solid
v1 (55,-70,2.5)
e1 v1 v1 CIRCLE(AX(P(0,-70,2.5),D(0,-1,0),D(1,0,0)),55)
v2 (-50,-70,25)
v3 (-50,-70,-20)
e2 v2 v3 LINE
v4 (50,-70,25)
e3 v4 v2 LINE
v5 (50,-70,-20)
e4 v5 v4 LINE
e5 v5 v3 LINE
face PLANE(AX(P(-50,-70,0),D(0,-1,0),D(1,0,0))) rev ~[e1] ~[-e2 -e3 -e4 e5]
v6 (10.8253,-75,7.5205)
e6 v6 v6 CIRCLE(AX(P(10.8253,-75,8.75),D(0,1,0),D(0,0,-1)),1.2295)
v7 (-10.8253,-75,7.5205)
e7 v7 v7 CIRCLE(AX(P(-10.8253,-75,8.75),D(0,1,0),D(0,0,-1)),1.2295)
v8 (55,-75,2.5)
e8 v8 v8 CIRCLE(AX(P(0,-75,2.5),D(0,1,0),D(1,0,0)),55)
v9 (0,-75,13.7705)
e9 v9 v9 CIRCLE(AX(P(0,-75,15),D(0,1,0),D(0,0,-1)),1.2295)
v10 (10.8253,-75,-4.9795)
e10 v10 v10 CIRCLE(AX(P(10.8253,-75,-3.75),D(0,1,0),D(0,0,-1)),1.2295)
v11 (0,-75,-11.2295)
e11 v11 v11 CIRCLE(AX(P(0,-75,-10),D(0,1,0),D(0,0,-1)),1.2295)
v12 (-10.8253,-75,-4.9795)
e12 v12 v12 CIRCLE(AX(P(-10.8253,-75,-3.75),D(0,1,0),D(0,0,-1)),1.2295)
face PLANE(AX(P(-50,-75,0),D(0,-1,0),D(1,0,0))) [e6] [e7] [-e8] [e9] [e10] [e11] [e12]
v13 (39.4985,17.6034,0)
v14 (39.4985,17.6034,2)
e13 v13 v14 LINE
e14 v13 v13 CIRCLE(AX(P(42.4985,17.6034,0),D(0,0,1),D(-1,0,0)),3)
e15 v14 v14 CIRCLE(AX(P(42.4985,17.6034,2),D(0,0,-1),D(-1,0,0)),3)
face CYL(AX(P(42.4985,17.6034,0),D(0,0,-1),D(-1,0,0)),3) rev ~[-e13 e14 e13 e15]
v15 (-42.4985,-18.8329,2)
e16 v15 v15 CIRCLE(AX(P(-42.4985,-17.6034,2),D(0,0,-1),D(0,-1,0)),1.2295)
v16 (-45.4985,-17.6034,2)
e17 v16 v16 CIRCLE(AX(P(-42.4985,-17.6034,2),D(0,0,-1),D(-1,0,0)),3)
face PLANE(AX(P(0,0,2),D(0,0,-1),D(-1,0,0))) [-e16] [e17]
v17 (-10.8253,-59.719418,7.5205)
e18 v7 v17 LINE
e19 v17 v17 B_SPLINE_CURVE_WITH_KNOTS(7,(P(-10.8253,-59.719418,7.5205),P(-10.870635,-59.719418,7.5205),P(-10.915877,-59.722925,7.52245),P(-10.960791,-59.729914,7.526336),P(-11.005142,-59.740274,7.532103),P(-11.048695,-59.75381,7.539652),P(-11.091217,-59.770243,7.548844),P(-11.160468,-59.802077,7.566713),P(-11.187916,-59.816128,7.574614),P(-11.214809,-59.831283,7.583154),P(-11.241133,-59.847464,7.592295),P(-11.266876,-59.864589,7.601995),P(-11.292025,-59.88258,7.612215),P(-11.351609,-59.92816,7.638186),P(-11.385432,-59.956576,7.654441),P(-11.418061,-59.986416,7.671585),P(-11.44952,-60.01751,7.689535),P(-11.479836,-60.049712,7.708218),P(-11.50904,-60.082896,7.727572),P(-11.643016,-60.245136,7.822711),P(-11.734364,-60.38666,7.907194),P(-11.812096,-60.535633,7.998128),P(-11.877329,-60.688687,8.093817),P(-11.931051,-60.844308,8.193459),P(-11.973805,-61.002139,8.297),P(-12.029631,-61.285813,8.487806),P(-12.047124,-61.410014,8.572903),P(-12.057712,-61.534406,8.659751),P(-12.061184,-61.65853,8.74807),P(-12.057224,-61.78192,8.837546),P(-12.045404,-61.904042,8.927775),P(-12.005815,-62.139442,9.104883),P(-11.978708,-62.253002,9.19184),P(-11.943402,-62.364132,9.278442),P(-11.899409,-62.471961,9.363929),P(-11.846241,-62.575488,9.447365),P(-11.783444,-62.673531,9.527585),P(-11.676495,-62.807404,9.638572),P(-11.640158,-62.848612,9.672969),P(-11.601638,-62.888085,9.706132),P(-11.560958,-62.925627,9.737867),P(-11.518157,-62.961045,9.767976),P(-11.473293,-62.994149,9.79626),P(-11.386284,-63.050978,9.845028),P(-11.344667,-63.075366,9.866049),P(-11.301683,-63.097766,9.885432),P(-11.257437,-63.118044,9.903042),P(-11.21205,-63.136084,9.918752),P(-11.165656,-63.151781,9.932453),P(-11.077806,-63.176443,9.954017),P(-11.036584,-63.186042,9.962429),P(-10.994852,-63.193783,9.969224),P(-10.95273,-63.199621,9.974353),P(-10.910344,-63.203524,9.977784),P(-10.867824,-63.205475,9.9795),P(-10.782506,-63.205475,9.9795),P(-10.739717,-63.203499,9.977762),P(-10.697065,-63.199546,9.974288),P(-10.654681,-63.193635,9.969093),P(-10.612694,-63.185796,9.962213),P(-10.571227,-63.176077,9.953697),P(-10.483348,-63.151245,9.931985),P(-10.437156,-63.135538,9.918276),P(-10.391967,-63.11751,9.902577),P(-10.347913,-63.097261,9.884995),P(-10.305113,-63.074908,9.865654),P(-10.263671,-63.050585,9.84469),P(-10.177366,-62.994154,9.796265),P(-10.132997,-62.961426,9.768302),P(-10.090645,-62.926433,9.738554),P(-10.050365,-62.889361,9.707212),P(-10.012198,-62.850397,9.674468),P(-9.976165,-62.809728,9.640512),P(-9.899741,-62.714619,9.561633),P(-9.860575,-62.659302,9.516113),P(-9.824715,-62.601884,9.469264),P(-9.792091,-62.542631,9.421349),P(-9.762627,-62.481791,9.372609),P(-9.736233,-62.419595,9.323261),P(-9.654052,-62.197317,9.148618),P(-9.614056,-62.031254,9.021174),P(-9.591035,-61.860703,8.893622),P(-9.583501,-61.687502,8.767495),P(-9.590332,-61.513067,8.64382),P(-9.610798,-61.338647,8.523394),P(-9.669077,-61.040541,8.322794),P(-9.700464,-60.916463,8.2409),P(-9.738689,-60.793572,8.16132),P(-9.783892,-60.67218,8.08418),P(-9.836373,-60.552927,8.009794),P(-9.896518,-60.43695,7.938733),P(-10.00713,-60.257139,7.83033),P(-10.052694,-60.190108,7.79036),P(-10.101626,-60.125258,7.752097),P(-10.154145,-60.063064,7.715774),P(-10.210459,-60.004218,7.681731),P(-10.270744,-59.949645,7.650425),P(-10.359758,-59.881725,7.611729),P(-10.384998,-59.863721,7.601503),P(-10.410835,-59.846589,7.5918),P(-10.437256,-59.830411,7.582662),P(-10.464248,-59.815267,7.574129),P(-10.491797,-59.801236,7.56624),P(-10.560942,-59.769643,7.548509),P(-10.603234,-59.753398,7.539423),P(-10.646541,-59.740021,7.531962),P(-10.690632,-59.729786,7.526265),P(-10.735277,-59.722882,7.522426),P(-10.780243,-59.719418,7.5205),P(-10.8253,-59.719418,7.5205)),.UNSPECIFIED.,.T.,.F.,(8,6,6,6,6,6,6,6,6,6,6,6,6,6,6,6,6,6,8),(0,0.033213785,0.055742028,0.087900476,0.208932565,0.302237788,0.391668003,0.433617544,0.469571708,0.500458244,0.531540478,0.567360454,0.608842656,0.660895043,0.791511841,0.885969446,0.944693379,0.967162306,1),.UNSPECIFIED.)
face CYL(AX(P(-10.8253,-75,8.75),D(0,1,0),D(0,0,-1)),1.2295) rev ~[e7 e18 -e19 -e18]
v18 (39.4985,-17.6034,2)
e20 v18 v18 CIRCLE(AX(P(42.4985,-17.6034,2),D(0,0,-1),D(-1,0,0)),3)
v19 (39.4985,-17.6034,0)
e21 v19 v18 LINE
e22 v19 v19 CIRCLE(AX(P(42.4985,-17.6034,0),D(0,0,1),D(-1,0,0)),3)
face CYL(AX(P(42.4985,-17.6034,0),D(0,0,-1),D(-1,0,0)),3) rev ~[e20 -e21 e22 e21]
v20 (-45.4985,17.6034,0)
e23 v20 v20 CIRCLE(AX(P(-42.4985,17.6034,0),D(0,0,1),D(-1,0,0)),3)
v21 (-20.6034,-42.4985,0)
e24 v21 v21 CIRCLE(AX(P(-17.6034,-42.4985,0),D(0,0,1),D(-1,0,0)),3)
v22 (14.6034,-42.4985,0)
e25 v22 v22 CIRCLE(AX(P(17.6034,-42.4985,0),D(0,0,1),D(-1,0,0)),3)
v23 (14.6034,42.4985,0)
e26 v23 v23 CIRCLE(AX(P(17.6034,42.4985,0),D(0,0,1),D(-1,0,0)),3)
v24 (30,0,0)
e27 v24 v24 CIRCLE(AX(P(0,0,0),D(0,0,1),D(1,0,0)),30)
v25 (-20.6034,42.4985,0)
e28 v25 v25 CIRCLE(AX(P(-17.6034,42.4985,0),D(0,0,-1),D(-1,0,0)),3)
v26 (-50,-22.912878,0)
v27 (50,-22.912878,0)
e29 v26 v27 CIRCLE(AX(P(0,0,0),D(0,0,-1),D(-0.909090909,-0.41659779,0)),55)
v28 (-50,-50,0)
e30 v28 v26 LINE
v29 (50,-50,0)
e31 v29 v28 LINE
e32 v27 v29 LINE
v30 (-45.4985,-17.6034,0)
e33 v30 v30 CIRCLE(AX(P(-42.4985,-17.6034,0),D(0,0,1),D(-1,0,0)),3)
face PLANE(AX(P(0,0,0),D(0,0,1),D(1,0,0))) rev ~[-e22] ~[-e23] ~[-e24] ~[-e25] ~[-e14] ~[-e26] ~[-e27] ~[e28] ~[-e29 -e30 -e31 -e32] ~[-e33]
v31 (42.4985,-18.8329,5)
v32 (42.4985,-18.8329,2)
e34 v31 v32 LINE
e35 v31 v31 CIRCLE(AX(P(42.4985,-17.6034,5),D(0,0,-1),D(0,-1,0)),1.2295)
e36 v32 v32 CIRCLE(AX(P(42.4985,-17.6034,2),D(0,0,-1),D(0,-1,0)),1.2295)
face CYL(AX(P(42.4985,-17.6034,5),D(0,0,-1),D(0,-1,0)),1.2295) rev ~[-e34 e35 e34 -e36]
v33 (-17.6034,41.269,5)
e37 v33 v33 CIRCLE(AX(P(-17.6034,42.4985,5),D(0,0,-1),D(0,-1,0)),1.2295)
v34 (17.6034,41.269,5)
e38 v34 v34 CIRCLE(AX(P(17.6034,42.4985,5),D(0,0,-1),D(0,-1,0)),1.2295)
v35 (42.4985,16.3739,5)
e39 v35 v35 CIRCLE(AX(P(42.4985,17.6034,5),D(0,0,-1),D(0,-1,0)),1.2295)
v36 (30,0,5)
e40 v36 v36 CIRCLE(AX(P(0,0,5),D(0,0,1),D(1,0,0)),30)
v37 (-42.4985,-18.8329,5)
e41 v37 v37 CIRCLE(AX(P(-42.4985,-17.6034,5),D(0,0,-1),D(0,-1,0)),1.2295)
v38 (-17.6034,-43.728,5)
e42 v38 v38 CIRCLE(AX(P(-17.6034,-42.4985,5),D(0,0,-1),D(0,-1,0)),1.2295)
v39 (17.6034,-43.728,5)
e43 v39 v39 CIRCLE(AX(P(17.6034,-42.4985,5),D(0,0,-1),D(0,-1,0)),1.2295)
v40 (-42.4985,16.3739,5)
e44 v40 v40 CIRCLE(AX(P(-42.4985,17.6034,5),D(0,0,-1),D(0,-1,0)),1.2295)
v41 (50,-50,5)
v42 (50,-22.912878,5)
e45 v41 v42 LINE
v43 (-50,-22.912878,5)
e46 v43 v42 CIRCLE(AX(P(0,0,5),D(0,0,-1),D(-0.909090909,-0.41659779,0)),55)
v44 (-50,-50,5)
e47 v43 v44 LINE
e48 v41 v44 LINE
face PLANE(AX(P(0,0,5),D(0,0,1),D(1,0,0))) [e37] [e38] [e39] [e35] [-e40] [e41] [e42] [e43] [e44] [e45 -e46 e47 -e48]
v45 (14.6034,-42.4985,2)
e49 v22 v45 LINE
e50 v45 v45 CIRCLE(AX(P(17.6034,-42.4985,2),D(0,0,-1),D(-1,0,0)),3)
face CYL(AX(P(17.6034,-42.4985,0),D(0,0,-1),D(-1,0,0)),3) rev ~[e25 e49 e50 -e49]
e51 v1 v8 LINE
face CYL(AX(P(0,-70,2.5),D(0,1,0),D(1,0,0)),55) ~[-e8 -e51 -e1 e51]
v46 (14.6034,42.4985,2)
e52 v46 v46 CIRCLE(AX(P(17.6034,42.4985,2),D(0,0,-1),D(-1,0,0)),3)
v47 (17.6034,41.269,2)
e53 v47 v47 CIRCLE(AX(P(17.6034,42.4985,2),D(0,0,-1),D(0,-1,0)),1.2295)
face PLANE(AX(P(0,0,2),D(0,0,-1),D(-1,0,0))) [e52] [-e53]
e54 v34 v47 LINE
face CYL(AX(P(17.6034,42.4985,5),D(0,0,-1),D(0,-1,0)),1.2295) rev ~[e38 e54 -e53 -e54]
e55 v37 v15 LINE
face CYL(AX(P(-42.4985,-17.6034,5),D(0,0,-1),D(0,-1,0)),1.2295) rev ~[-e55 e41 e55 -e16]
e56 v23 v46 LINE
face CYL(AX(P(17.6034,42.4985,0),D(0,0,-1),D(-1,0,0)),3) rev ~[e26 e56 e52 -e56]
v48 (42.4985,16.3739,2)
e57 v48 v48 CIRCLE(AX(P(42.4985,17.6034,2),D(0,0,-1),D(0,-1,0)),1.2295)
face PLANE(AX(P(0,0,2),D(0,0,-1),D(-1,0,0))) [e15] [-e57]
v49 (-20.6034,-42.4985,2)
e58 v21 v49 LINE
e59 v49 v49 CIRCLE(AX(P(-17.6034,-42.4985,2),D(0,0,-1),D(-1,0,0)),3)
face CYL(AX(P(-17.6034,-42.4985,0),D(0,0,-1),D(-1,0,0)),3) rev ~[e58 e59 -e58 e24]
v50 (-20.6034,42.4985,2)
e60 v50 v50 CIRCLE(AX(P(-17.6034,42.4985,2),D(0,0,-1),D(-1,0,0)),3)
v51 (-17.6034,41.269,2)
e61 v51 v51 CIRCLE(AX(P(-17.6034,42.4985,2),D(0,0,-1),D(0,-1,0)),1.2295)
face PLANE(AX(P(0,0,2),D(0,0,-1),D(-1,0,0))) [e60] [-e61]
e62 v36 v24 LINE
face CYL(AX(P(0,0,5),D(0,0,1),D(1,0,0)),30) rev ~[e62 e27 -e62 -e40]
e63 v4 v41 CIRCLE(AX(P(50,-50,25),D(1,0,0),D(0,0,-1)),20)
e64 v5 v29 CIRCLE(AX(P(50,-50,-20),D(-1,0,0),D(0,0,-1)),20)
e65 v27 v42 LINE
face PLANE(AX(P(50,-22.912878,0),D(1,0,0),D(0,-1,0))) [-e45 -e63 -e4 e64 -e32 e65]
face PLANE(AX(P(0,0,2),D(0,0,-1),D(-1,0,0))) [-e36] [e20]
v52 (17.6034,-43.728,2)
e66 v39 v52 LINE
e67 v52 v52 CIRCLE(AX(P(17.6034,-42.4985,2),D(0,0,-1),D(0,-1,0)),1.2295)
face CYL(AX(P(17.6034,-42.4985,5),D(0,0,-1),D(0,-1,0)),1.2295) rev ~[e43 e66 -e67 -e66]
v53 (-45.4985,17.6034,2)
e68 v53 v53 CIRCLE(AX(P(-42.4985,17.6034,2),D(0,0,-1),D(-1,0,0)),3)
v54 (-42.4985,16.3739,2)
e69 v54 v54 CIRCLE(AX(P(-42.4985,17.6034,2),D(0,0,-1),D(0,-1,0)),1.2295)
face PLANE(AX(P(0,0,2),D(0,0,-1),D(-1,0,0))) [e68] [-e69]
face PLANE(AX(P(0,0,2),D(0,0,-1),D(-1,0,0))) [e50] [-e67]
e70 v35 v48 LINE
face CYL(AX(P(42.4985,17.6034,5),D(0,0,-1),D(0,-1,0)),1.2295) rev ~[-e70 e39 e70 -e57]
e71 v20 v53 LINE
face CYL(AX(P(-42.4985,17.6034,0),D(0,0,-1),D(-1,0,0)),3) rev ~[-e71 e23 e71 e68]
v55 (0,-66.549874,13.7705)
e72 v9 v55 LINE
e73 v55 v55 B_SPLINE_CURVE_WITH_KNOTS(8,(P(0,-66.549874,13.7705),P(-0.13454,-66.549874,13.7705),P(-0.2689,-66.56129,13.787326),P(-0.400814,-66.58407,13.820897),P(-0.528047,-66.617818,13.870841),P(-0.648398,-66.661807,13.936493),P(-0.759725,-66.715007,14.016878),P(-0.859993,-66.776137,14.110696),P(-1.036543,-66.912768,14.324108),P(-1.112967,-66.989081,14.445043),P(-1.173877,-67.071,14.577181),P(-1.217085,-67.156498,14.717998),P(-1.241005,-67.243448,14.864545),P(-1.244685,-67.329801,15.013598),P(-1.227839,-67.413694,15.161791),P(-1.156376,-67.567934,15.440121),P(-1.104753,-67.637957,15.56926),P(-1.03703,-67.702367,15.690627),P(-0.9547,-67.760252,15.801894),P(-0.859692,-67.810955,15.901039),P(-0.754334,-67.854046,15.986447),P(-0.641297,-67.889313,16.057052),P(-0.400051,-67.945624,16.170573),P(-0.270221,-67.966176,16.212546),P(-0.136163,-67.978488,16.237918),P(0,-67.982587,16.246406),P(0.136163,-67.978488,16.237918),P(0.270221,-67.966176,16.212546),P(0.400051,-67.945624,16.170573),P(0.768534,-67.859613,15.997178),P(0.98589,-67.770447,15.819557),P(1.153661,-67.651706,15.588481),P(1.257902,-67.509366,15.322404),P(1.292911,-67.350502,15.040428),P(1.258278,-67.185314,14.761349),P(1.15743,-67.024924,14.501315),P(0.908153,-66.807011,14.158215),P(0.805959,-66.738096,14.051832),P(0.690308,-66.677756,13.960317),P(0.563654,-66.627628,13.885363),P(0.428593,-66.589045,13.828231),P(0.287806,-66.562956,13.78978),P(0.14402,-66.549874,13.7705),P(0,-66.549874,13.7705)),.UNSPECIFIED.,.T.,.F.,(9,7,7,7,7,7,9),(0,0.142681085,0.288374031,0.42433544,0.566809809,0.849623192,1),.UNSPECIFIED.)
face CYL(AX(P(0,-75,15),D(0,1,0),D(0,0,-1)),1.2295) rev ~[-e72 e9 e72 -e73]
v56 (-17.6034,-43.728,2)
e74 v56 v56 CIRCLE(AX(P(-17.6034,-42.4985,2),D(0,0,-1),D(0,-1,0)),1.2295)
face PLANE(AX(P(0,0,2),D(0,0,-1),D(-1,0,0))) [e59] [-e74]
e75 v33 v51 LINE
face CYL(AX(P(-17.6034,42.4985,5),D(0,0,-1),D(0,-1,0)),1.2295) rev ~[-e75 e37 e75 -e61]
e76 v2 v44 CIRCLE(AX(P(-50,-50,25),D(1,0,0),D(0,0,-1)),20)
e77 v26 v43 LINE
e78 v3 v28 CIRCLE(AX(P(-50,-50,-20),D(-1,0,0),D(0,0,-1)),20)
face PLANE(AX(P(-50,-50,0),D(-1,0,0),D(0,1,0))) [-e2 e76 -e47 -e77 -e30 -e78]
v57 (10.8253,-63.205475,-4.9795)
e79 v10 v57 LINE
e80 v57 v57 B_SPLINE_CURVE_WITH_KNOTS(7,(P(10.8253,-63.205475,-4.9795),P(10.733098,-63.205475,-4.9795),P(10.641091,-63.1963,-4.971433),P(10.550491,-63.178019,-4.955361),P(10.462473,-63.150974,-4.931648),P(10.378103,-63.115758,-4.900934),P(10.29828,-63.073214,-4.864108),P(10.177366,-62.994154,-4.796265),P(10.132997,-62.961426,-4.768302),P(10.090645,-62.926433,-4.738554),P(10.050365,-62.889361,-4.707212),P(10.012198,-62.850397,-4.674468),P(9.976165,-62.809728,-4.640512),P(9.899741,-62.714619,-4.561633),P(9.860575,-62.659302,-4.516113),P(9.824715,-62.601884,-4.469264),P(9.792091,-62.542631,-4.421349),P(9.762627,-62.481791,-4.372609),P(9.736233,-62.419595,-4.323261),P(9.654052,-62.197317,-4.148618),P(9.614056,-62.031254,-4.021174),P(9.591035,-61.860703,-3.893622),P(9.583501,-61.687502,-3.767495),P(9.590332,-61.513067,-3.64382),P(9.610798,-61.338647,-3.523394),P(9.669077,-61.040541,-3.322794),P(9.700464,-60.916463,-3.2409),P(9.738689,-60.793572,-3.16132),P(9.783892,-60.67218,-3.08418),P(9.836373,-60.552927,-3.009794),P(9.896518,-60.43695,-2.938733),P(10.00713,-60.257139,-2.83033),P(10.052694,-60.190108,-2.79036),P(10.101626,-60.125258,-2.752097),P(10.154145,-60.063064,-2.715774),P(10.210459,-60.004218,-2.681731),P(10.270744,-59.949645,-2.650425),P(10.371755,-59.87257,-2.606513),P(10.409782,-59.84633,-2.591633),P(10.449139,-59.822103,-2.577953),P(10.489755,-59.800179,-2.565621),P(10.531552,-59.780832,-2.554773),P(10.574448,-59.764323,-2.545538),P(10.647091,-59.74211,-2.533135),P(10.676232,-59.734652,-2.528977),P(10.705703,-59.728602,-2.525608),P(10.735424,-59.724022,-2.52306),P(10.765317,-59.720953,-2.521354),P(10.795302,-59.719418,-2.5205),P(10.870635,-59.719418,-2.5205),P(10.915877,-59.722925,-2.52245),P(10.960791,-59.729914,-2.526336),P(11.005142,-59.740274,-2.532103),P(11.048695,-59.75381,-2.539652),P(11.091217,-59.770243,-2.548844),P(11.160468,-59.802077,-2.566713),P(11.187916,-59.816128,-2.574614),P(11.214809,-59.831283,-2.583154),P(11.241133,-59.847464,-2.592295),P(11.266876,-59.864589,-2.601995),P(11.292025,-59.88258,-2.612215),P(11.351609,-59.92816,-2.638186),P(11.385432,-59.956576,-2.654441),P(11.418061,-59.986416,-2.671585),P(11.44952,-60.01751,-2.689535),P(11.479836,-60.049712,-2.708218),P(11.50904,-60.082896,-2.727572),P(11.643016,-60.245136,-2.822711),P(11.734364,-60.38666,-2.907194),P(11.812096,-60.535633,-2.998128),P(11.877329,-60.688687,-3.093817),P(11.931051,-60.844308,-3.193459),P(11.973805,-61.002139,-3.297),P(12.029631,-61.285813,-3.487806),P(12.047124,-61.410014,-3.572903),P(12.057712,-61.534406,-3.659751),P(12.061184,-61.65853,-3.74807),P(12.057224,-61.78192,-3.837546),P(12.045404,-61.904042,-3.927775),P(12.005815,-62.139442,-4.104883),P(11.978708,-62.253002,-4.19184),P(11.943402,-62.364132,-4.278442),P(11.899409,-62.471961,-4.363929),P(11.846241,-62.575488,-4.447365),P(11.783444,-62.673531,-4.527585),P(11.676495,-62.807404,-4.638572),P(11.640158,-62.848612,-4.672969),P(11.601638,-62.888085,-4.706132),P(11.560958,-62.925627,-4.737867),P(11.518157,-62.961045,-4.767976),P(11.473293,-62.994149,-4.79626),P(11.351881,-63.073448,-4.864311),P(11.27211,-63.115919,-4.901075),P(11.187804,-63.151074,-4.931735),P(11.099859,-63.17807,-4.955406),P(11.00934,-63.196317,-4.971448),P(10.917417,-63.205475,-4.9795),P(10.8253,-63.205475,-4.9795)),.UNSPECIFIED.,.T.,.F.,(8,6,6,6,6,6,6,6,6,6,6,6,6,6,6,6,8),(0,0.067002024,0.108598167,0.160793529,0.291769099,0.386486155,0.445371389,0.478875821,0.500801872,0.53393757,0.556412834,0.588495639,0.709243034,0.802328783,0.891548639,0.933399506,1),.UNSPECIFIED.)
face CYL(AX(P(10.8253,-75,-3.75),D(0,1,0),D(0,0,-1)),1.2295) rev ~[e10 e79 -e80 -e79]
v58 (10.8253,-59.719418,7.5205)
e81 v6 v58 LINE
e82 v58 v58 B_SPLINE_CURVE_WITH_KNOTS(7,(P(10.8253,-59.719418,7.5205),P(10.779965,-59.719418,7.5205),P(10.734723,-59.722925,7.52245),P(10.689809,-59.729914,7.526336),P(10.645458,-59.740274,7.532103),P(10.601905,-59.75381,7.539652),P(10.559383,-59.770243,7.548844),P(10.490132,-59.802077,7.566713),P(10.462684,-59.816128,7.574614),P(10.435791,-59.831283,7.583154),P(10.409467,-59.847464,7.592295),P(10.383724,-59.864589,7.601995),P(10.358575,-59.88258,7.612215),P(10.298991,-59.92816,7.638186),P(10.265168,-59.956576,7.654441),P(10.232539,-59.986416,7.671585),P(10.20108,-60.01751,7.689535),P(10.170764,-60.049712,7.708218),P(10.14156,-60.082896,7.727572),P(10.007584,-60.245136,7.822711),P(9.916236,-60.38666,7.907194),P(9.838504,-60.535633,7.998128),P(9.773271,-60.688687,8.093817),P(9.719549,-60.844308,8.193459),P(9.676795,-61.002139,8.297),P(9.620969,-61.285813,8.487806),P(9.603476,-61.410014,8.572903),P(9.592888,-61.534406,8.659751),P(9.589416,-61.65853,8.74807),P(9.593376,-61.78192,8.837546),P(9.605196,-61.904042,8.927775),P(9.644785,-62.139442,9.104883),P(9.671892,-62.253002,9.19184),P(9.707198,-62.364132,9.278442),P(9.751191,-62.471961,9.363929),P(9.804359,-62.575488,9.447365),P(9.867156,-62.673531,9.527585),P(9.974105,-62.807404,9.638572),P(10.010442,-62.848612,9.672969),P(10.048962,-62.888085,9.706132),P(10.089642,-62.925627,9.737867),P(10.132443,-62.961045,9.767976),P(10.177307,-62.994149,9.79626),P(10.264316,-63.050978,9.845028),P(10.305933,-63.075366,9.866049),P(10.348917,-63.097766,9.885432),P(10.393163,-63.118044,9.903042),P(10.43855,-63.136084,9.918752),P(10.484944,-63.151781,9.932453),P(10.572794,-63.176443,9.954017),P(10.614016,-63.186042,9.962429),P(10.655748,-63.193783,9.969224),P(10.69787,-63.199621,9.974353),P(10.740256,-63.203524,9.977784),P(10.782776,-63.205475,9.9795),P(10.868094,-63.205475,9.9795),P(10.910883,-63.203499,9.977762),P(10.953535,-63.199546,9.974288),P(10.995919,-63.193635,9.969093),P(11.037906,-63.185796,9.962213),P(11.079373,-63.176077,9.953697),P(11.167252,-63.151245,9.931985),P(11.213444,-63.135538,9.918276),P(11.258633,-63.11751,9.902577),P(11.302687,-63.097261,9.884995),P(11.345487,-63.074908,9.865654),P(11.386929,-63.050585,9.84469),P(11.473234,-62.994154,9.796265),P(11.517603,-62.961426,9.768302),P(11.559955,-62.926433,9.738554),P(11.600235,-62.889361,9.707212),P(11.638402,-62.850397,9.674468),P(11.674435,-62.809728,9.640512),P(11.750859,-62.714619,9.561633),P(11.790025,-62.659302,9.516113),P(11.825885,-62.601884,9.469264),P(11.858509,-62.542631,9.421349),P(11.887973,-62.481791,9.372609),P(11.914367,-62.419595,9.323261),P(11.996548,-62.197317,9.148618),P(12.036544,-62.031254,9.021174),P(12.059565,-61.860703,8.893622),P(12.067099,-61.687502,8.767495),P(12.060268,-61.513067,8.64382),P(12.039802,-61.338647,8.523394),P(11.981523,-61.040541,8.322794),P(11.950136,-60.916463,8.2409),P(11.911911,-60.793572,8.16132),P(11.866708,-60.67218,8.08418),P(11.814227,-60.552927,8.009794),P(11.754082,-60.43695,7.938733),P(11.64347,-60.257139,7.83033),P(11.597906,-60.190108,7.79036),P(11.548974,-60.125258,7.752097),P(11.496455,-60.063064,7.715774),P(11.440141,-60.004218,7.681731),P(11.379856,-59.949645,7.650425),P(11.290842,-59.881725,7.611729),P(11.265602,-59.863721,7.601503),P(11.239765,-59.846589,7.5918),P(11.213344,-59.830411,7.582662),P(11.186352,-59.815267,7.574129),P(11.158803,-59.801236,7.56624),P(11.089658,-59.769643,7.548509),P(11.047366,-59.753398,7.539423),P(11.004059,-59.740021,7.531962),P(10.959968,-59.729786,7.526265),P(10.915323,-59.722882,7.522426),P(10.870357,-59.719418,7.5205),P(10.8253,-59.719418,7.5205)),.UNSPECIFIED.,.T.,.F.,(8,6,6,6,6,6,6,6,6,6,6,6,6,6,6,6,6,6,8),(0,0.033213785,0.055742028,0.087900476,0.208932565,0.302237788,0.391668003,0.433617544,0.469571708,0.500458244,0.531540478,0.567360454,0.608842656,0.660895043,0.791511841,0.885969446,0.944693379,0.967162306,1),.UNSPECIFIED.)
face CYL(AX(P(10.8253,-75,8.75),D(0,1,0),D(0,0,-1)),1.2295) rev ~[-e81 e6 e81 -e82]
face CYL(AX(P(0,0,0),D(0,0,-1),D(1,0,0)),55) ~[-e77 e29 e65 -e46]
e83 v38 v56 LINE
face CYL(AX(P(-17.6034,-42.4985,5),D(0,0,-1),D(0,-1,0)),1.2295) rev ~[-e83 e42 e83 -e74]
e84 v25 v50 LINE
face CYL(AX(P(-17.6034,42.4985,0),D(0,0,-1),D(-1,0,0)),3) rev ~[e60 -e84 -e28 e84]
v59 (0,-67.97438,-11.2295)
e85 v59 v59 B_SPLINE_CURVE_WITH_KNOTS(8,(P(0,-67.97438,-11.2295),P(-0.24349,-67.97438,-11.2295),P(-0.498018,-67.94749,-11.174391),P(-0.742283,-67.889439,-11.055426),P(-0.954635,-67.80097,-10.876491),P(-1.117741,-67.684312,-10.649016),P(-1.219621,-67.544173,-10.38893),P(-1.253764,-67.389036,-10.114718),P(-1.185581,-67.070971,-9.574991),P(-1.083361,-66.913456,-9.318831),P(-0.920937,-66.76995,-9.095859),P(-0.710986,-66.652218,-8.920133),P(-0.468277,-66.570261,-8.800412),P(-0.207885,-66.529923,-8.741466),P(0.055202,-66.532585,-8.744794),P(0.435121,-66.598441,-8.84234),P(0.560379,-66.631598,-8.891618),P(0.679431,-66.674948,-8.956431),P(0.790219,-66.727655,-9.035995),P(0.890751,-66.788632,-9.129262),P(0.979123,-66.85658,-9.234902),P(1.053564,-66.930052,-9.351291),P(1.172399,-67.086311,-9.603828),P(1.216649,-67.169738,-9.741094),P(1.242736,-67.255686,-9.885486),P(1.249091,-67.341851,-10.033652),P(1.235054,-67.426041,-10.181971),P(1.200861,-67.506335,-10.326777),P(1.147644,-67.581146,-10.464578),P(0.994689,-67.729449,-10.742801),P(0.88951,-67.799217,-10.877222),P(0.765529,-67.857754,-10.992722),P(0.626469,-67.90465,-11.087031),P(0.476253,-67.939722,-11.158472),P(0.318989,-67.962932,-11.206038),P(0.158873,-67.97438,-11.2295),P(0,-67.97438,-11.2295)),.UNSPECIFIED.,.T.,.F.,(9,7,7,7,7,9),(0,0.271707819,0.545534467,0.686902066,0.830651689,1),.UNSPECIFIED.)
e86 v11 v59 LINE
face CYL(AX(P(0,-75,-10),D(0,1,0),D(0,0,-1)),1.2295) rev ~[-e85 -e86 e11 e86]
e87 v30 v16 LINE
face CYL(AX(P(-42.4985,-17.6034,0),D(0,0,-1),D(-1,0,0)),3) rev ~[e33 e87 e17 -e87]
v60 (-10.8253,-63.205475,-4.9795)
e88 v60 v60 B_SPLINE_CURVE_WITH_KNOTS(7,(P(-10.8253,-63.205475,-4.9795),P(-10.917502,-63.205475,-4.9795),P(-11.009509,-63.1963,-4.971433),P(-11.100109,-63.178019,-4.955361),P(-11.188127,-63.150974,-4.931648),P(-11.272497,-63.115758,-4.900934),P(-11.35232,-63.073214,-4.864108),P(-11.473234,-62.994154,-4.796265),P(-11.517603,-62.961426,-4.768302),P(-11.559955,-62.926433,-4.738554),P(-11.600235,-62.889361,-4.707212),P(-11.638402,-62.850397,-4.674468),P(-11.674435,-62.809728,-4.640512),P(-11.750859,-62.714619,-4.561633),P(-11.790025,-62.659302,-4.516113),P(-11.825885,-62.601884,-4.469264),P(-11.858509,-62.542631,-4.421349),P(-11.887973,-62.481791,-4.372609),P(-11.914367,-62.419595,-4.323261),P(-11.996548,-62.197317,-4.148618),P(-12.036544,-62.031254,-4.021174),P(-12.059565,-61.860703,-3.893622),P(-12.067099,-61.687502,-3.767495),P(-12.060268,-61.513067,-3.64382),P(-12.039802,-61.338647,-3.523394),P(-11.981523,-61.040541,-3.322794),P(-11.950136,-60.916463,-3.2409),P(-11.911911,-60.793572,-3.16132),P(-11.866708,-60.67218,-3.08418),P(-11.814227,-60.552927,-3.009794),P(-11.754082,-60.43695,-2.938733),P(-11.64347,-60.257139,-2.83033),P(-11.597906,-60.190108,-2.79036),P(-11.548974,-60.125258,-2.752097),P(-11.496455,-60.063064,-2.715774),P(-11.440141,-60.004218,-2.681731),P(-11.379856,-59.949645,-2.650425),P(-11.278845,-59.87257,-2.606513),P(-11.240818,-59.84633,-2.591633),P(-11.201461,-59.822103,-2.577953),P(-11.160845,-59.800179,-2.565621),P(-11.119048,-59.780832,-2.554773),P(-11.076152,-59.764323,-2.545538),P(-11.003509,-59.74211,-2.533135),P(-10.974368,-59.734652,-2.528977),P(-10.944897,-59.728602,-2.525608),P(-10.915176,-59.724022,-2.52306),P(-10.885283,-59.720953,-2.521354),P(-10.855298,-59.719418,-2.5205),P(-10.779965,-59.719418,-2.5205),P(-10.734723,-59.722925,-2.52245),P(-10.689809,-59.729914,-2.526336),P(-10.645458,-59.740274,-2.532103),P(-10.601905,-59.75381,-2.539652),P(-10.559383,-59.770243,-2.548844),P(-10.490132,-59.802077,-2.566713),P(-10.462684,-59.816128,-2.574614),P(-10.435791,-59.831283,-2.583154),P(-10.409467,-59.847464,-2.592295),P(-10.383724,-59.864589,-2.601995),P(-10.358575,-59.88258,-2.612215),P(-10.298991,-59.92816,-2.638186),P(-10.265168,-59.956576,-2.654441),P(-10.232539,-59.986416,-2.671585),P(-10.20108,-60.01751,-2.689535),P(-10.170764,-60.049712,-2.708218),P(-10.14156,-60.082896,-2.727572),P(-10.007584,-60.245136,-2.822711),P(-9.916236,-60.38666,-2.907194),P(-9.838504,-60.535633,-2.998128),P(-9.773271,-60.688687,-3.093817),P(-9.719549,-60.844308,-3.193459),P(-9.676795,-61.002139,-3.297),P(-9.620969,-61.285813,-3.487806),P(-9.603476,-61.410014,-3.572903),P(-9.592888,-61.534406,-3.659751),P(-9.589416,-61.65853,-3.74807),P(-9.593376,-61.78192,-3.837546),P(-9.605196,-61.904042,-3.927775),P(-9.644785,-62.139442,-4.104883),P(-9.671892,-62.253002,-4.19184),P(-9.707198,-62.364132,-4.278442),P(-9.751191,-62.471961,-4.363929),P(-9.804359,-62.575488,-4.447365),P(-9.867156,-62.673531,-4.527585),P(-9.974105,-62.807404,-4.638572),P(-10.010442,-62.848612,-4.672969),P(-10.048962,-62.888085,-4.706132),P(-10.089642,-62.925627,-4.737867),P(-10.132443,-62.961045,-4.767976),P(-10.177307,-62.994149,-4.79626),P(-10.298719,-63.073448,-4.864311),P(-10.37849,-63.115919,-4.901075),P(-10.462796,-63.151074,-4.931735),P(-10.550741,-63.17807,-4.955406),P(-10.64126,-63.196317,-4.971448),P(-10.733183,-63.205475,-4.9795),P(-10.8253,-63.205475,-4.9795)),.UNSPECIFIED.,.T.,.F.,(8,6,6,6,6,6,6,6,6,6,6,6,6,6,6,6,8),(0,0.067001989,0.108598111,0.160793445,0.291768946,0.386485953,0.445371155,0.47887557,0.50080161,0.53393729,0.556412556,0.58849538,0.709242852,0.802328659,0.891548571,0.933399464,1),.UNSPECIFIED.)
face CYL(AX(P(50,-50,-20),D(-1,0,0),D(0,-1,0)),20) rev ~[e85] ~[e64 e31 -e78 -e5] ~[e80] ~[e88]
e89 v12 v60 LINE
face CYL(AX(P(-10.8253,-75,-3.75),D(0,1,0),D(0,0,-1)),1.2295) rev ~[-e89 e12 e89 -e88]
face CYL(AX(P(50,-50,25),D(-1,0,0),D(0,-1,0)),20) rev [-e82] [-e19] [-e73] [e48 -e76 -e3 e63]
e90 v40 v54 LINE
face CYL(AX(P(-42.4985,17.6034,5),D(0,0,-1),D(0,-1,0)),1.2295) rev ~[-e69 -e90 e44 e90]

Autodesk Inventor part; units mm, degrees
ref_plane "YZ Plane" through (0, 0, 0) normal (1, 0, 0) x (0, 1, 0)
ref_plane "XZ Plane" through (0, 0, 0) normal (0, 1, 0) x (-1, 0, 0)
ref_plane "XY Plane" through (0, 0, 0) normal (0, 0, 1) x (1, 0, 0)
sketch "スケッチ1" plane through (0, 0, 0) normal (0, 0, 1) x (1, 0, 0)
  circle A0 centre (0, 0) radius 48.5
  circle A1 centre (0, 0) radius 30
  line L0 (-50, 50) -> (50, 50)
  line L1 (50, 50) -> (50, -50)
  line L2 (50, -50) -> (-50, -50)
  line L3 (-50, -50) -> (-50, 50)
  line L4 (-50, -50) -> (50, -50)
  line L5 (50, -50) -> (50, -70)
  line L6 (50, -70) -> (-50, -70)
  line L7 (-50, -70) -> (-50, -50)
  circle A2 centre (0, 0) radius 55
  point P0 (-50, -60)
  point P1 (-50, -22.9129)
  point P2 (50, -22.9129)
  dimension "d0" = 97
  dimension "d3" = 50
  dimension "d4" = 50
  dimension "d5" = 50
  dimension "d6" = 50
  dimension "d126" = 20
  dimension "d127" = 100
  dimension "d128" = 110
  dimension "d129" = 60
extrude "押し出し1" add sketch "スケッチ1" along normal blind 5 contours A0 | A1 | A2 L0 | L0 A2 L1 L2 L3 | L3 A2 | A2 L2 L3 | A2 L1 | L2 A2 L5 L6 L7 | L2 A2 | L1 L2 A2
sketch "スケッチ2" plane through (0, 0, 5) normal (0, 0, 1) x (1, 0, 0)
  circle A0 centre (0, 0) radius 46
  line L0 (0, 0) -> (0, 64.6511)
  line L1 (0, 0) -> (-25.9524, 62.6547)
  line L2 (-50, -22.9129) -> (-50, -70) projected
  point P0 (-17.6034, 42.4985)
  point P1 (-42.4985, 17.6034)
  point P2 (-42.4985, -17.6034)
  point P3 (-17.6034, -42.4985)
  point P4 (17.6034, -42.4985)
  point P5 (42.4985, -17.6034)
  point P6 (42.4985, 17.6034)
  point P7 (17.6034, 42.4985)
  point P8 (-50, 50)
  point P9 (-50, -50)
  dimension "d7" = 92
  dimension "d8" = 22.5
  dimension "d11" = 360
  dimension "d76" = 50
hole "穴1" at (-17.6034, 42.4985, 5) at (-42.4985, 17.6034, 5) at (-42.4985, -17.6034, 5) at (-17.6034, -42.4985, 5) at (17.6034, -42.4985, 5) at (42.4985, -17.6034, 5) at (42.4985, 17.6034, 5) at (17.6034, 42.4985, 5) direction (0, 0, -1) diameter 2.459 end through all
sketch "スケッチ3" plane through (0, 0, 5) normal (0, 0, 1) x (1, 0, 0)
  circle A0 centre (0, 0) radius 30
  dimension "d20" = 60
extrude "押し出し2" cut sketch "スケッチ3" against normal blind 5
sketch "スケッチ16" plane through (0, 0, 0) normal (0, 0, -1) x (-1, 0, 0)
  circle A0 centre (17.6034, 42.4985) radius 1.2295 projected
  circle A1 centre (0, 0) radius 46
  circle A2 centre (17.6034, 42.4985) radius 3
  circle A3 centre (-17.6034, 42.4985) radius 3
  circle A4 centre (-42.4985, 17.6034) radius 3
  circle A5 centre (-42.4985, -17.6034) radius 3
  circle A6 centre (-17.6034, -42.4985) radius 3
  circle A7 centre (17.6034, -42.4985) radius 3
  circle A8 centre (42.4985, -17.6034) radius 3
  circle A9 centre (42.4985, 17.6034) radius 3
  point P0 (18.7653, 42.0962)
  point P1 (16.4975, 43.0356)
  dimension "d113" = 6
  dimension "d116" = 360
extrude "押し出し12" cut sketch "スケッチ16" against normal blind 2 contours A0 A1 | A0 A1 A2 | A1 A0 | A0 A1 A2 | A3 A1 | A1 A3 | A9 A1 | A1 A9 | A4 A1 | A1 A4 | A8 A1 | A1 A8 | A5 A1 | A1 A5 | A7 A1 | A1 A7 | A6 A1 | A1 A6
sketch "スケッチ19" plane through (-50, -70, 0) normal (0, -1, 0) x (1, 0, 0)
  line L0 (0, 5) -> (100, 5) projected
  line L1 (0, 5) -> (100, 5)
  line L2 (100, 5) -> (100, -47.5)
  line L3 (100, -47.5) -> (0, -47.5)
  line L4 (0, -47.5) -> (0, 5)
  line L5 (0, -47.5) -> (100, -47.5)
  line L6 (100, -47.5) -> (100, 52.5)
  line L7 (100, 52.5) -> (0, 52.5)
  line L8 (0, 52.5) -> (0, -47.5)
  circle A0 centre (50, 2.5) radius 55
  point P0 (50, 0)
  dimension "d130" = 100
  dimension "d131" = 47.5
  dimension "d132" = 100
  dimension "d136" = 110
  dimension "d137" = 50
  dimension "d138" = 50
extrude "押し出し14" add sketch "スケッチ19" along normal blind 5 contours L8 A0 L7 L6 L0 | L0 L2 A0 L3 L4 | L4 A0 L8 | L6 A0 L2 | L3 A0 | A0 L7
fillet "フィレット6" radius 20 2 edges at (0, -70, 5) (0, -70, 0)
sketch "スケッチ20" plane through (0, -75, 2.5) normal (0, -1, 0) x (1, 0, 0)
  circle A0 centre (0, 0) radius 12.5
  line L0 (-10.8253, -6.25) -> (0, 0)
  line L1 (0, 0) -> (-14.9018, 0)
  point P0 (0, -2.5)
  point P1 (0, -12.5)
  point P2 (10.8253, -6.25)
  point P3 (10.8253, 6.25)
  point P4 (0, 12.5)
  point P5 (-10.8253, 6.25)
  dimension "d139" = 25
  dimension "d140" = 30
  dimension "d143" = 360
hole "穴5" at (-10.8253, -75, -3.75) at (0, -75, -10) at (10.8253, -75, -3.75) at (10.8253, -75, 8.75) at (0, -75, 15) at (-10.8253, -75, 8.75) direction (0, 1, 0) diameter 2.459 end through all
equation "\"d4\" = d3"
equation "\"d5\" = d3"
equation "\"d6\" = d5"
properties part number "legparts_07(five)"
